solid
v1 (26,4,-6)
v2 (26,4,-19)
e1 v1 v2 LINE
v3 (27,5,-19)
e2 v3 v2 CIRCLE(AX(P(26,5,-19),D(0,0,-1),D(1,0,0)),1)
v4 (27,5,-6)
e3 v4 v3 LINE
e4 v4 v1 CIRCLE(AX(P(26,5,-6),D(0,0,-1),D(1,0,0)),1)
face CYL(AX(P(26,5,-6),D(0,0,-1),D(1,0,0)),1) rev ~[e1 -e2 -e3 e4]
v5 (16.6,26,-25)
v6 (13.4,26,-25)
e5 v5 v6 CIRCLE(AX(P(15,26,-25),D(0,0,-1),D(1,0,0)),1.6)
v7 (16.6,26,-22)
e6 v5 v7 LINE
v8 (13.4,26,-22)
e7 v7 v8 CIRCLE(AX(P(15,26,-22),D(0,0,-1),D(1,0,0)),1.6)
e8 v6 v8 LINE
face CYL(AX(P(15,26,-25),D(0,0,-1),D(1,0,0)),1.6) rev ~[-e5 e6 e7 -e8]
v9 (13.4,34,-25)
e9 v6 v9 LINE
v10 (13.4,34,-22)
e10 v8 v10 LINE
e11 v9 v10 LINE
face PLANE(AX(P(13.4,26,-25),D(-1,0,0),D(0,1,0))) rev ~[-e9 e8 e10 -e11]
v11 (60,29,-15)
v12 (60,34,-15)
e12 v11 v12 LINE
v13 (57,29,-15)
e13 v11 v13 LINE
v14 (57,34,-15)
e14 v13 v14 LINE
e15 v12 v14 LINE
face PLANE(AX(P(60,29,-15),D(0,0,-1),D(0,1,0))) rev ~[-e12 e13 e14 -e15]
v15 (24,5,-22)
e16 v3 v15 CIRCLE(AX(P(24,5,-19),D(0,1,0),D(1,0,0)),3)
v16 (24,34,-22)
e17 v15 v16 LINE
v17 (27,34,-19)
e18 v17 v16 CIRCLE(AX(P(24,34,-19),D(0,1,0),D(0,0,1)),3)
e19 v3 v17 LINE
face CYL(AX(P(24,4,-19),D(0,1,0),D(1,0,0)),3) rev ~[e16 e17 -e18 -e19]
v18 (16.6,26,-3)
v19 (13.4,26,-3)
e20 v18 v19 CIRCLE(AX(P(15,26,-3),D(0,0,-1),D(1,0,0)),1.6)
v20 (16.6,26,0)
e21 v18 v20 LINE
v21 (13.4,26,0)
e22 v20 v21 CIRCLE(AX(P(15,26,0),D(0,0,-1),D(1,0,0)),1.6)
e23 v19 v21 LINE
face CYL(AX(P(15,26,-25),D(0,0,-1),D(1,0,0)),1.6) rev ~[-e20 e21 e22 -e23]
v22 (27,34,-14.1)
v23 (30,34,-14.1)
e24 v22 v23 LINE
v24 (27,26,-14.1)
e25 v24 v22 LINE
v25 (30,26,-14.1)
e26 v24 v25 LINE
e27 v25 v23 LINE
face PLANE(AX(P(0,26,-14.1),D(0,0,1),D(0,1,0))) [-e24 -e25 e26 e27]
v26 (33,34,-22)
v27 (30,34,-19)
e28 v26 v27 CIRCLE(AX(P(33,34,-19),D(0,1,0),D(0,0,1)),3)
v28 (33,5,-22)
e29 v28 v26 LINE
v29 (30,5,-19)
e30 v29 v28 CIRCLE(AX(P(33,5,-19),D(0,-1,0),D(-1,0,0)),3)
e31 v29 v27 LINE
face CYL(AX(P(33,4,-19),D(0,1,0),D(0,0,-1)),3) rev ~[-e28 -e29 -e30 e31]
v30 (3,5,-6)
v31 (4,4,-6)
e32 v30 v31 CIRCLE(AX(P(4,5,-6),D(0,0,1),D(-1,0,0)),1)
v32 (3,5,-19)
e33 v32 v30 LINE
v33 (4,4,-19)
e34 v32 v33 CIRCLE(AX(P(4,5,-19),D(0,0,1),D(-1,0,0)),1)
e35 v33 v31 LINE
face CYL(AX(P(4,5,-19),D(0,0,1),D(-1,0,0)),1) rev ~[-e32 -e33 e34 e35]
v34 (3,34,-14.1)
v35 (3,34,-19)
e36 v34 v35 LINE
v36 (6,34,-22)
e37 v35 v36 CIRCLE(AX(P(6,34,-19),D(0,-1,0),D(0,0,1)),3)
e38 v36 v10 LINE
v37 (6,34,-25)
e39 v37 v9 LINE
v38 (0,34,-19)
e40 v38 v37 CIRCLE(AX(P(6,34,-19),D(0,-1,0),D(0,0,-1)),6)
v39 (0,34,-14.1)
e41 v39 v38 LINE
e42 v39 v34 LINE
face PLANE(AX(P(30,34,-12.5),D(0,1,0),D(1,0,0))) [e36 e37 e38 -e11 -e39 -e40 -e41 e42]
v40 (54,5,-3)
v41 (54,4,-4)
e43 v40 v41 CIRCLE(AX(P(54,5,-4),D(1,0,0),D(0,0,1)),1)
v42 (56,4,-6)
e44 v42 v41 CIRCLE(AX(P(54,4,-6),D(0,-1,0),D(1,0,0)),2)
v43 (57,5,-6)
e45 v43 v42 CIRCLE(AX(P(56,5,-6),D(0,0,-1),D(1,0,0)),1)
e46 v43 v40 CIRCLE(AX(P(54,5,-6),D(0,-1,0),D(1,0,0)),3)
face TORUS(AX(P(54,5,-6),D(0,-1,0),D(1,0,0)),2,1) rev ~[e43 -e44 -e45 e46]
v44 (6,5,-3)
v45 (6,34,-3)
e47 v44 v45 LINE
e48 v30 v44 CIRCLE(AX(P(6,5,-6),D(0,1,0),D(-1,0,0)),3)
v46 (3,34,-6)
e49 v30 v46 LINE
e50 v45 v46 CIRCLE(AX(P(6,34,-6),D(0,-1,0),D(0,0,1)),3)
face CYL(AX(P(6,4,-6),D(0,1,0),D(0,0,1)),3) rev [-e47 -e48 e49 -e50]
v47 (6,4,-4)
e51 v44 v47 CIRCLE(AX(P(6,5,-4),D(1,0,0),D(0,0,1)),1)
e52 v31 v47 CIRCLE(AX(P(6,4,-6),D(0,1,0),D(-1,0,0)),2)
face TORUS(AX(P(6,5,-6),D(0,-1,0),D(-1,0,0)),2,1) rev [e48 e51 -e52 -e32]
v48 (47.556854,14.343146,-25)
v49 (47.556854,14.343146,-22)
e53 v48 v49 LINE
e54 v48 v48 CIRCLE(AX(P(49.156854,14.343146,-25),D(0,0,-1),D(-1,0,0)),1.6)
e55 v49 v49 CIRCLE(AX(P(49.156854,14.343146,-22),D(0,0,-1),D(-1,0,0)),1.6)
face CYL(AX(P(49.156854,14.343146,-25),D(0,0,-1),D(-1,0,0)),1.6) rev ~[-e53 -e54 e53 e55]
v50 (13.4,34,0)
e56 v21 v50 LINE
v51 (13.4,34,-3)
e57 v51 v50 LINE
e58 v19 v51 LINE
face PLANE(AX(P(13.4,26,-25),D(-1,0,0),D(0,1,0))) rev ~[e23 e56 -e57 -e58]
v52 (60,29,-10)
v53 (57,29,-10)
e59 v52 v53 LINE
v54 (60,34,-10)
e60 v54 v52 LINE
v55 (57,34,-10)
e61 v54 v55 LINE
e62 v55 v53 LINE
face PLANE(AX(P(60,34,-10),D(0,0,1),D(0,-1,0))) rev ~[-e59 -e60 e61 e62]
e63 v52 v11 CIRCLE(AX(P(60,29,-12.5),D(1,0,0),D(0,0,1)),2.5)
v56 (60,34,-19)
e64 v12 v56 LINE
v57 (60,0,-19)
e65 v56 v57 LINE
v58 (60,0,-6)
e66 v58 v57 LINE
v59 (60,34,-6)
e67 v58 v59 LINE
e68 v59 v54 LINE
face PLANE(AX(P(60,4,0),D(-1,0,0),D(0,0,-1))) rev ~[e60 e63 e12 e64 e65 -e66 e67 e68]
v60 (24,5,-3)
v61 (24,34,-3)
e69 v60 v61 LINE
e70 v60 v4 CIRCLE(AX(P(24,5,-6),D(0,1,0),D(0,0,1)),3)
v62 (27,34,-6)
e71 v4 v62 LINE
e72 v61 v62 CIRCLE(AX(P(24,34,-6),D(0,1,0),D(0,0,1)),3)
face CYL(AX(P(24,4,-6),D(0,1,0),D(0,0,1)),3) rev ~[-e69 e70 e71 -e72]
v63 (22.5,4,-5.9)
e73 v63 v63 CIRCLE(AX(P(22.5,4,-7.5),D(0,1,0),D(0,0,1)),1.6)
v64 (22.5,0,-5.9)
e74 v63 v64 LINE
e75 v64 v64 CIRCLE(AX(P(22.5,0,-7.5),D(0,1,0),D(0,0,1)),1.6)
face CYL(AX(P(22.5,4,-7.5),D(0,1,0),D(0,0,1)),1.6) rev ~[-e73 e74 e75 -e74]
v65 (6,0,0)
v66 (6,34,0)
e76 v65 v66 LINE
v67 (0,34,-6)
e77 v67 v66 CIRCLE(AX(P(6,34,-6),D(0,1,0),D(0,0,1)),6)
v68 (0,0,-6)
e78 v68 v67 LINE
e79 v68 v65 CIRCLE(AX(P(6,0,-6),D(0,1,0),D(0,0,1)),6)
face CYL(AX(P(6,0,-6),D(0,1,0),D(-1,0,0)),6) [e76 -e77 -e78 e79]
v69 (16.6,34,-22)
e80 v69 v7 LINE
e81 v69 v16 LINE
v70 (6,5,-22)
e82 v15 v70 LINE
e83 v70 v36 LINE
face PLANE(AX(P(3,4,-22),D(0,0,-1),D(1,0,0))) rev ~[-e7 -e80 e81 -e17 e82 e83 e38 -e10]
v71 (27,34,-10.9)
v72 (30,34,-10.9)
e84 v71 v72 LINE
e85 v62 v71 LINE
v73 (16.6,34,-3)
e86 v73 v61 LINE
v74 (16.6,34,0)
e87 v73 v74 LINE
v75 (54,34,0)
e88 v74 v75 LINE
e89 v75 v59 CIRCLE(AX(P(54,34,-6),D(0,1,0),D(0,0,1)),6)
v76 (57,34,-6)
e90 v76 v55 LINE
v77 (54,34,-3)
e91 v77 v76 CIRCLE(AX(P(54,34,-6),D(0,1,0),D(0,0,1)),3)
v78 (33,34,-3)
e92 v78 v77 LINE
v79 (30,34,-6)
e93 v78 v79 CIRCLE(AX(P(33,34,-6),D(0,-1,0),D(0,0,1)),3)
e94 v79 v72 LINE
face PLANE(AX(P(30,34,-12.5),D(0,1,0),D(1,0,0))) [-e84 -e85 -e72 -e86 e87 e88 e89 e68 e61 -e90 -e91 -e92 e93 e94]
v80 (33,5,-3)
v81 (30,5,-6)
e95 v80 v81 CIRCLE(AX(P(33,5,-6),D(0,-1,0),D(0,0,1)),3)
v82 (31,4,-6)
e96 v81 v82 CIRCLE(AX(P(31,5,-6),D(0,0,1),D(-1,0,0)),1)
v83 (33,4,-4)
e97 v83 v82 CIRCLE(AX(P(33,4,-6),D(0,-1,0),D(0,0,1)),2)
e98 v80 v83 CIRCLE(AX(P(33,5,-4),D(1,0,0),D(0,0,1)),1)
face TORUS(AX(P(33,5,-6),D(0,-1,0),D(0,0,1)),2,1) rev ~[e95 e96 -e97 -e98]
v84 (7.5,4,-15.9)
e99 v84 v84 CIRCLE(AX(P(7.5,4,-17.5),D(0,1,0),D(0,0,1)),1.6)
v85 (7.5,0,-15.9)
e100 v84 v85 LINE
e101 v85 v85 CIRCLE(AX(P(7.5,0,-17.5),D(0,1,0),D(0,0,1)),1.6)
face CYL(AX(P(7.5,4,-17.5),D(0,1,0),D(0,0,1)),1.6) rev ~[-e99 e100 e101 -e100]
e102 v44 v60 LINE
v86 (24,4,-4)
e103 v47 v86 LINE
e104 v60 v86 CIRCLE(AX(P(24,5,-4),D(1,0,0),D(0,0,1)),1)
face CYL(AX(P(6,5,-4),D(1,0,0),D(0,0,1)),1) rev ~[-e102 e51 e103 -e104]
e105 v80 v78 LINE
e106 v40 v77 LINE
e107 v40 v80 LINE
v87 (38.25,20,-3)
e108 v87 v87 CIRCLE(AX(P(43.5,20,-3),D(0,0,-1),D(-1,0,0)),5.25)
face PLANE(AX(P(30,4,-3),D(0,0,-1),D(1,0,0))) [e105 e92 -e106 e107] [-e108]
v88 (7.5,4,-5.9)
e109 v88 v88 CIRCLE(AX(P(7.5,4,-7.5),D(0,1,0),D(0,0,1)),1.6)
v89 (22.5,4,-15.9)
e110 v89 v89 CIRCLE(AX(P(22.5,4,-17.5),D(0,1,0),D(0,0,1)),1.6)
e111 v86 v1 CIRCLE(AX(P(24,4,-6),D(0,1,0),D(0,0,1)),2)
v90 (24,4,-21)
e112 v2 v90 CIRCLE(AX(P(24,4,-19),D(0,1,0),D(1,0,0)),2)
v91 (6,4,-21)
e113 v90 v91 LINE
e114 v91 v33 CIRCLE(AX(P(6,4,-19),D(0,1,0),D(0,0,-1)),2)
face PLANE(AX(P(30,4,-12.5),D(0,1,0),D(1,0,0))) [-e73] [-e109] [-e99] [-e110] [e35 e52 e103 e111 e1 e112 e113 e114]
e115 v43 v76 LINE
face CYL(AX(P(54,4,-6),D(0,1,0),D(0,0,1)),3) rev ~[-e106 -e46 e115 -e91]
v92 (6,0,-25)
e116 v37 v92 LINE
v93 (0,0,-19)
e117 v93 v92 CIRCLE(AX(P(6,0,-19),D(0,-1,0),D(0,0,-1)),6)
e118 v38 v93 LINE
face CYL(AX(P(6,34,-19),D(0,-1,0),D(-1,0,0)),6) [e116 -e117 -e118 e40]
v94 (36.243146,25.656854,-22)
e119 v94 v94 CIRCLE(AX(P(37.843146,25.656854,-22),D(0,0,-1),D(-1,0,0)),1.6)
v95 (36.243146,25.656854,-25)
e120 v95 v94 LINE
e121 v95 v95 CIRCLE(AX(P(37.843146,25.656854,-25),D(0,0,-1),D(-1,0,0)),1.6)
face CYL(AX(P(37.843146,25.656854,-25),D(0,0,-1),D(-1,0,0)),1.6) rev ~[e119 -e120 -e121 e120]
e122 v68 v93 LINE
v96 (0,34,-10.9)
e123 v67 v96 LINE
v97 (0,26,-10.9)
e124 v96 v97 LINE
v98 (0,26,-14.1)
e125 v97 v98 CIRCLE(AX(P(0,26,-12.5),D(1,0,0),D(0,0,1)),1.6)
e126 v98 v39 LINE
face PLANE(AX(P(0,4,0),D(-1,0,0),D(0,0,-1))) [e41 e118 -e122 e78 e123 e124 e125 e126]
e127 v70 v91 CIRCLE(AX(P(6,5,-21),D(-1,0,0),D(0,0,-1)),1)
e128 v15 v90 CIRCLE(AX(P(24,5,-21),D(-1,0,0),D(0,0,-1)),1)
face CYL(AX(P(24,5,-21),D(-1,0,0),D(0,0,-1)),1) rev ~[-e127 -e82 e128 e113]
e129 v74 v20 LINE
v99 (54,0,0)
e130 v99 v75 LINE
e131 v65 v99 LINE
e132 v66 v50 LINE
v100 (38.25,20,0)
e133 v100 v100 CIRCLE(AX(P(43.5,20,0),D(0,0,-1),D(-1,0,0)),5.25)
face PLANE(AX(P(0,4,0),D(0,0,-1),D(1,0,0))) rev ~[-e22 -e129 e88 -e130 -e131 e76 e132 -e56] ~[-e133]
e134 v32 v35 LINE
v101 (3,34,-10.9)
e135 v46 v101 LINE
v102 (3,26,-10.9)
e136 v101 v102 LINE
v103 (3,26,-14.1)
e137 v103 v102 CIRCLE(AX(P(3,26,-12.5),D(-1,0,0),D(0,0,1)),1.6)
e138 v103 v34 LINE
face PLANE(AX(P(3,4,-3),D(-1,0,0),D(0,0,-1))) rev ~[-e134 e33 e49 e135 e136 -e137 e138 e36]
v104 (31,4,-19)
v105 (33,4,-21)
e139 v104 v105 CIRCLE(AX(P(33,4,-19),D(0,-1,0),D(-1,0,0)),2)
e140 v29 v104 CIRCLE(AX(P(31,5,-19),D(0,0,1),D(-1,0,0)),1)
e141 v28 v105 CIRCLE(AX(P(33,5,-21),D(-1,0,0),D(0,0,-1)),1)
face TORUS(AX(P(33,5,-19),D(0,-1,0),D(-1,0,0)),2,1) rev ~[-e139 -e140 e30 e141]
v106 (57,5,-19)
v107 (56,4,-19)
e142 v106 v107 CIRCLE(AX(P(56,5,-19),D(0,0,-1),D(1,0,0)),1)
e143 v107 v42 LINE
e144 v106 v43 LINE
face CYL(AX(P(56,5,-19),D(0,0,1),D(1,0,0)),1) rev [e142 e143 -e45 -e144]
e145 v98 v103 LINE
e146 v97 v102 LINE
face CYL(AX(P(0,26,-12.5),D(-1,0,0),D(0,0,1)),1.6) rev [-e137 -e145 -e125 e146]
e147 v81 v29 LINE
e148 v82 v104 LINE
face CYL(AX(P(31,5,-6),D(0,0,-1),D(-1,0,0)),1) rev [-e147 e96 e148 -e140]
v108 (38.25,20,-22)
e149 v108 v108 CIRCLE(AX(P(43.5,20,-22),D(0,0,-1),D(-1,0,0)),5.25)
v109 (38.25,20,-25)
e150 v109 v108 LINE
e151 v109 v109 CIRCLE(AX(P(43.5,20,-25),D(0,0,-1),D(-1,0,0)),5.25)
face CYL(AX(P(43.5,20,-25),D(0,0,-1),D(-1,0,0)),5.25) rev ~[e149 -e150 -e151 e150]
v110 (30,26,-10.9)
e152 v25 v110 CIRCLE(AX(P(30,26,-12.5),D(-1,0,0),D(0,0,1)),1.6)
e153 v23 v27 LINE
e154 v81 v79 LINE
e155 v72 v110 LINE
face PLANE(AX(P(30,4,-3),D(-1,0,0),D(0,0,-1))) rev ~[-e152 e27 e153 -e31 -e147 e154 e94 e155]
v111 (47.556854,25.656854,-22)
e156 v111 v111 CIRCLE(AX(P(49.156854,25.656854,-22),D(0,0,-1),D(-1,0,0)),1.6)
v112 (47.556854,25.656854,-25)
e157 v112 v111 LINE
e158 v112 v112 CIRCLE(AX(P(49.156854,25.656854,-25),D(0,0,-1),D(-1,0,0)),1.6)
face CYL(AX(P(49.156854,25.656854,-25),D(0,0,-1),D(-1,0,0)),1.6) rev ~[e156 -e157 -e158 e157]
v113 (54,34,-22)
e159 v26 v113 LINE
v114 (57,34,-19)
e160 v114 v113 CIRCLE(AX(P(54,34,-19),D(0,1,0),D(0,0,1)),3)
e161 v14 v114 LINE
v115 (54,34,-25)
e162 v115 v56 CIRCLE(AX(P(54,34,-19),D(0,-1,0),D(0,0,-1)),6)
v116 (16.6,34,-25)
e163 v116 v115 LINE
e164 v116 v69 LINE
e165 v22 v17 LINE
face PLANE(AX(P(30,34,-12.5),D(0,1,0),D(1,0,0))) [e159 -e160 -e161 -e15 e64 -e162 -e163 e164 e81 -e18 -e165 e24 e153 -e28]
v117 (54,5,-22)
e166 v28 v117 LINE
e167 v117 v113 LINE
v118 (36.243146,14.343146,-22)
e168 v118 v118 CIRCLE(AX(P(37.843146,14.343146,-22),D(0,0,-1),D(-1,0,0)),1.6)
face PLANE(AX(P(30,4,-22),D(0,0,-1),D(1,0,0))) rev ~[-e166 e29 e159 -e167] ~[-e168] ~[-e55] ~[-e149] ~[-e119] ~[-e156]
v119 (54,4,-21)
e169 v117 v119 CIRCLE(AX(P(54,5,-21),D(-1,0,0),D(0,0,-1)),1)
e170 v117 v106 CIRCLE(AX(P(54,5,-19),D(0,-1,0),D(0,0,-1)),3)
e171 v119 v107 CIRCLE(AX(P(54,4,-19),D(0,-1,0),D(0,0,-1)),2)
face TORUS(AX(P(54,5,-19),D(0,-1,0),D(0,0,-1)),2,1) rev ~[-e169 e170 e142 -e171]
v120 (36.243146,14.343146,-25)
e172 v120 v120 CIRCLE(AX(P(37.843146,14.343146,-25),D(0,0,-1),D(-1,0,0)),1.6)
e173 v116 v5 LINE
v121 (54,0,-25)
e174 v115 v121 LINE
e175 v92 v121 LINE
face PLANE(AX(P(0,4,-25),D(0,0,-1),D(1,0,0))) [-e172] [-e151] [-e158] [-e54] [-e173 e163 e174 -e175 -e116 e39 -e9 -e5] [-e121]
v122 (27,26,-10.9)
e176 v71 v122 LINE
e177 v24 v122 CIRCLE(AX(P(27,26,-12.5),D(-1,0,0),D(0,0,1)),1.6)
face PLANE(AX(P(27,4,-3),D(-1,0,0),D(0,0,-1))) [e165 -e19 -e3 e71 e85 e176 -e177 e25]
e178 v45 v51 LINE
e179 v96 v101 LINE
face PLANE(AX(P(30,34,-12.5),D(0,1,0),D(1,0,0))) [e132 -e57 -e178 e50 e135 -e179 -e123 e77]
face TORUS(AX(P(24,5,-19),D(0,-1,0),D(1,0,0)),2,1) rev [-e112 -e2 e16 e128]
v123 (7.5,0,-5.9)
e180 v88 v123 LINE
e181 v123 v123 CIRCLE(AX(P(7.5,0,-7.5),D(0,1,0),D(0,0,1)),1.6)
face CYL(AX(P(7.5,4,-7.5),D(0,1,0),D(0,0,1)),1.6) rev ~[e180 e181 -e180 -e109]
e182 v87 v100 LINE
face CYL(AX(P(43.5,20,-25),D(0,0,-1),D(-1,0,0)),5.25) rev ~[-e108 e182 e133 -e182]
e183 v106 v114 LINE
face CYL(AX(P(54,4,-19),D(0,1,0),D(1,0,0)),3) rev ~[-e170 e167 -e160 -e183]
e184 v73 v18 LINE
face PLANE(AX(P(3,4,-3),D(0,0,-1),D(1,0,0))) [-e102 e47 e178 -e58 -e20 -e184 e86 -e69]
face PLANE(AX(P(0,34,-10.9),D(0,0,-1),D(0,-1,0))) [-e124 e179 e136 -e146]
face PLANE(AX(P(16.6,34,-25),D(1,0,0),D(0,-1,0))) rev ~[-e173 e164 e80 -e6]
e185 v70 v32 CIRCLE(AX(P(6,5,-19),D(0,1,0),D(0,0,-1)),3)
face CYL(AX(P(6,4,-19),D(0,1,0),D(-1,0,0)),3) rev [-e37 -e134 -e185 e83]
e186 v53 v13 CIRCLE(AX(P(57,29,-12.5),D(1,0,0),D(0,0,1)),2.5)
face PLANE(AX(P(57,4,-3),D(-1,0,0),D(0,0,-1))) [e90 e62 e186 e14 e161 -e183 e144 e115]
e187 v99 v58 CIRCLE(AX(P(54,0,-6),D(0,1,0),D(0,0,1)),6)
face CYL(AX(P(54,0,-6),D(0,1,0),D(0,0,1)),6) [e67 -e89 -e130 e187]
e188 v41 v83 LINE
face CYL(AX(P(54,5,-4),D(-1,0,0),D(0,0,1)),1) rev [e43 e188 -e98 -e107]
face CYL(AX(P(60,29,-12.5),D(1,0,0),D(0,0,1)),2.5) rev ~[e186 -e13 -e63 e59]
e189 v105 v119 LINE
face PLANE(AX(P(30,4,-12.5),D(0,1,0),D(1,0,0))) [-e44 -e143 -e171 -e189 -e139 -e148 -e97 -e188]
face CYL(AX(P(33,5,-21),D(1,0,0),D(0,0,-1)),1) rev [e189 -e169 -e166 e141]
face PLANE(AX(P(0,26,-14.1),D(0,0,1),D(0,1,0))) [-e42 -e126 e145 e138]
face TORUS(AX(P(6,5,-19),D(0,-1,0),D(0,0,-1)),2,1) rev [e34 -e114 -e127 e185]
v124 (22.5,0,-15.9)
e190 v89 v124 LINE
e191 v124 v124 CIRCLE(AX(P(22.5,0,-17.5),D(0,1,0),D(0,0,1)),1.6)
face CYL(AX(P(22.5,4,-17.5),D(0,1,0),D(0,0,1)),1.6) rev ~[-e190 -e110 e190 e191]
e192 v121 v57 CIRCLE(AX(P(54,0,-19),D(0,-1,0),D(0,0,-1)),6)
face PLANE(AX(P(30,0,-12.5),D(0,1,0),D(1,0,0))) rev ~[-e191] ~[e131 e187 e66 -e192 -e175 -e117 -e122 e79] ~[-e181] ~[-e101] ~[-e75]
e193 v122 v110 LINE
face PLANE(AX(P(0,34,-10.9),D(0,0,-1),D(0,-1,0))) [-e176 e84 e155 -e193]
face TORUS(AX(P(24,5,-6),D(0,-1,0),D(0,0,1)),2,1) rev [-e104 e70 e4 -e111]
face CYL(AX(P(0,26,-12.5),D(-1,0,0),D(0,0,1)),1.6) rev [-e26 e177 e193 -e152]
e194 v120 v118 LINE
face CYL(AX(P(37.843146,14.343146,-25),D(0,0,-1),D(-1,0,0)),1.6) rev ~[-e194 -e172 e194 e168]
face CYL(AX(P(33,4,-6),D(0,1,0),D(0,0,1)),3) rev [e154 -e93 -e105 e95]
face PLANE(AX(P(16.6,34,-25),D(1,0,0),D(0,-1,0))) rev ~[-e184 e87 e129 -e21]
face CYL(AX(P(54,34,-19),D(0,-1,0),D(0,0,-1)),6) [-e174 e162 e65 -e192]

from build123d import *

# Parameters (mm, degrees)
SKETCH1_W           = 60
SKETCH1_H           = 25
BOSS_EXTRUDE1_DEPTH = 4
SKETCH3_R           = 1.6
CUT_EXTRUDE1_DEPTH  = 66.122960621
SKETCH4_W           = 60
SKETCH4_H           = 25
SKETCH4_W_2         = 24
SKETCH4_H_2         = 19
SKETCH4_W_3         = 27
BOSS_EXTRUDE2_DEPTH = 30
SKETCH5_R           = 5.25
CUT_EXTRUDE2_DEPTH  = 74.35529974
CUT_EXTRUDE3_REACH  = 75.355
SKETCH6_R           = 1.6
FILLET3_R           = 3
FILLET4_R           = 1
FILLET5_R           = 6
CUT_EXTRUDE4_DEPTH  = 74.35529974
CUT_EXTRUDE5_REACH  = 75.355
CUT_EXTRUDE6_REACH  = 75.355


with BuildPart() as part:
    # Sketch1 → Boss-Extrude1 (new body)
    with BuildSketch(Plane(origin=(0, 0, 0), x_dir=(1, 0, 0), z_dir=(0, 1, 0))):
        with Locations((30, 12.5)):
            Rectangle(SKETCH1_W, SKETCH1_H)
    extrude(amount=BOSS_EXTRUDE1_DEPTH)

    # Sketch3 → Cut-Extrude1 (cut, through all)
    with BuildSketch(Plane(origin=(0, 4, 0), x_dir=(1, 0, 0), z_dir=(0, 1, 0))):
        with Locations(Location((7.5, 17.5, 0), (0, 0, 270))):
            Circle(SKETCH3_R)
        with Locations(Location((22.5, 17.5, 0), (0, 0, 270))):
            Circle(SKETCH3_R)
        with Locations(Location((22.5, 7.5, 0), (0, 0, 270))):
            Circle(SKETCH3_R)
        with Locations(Location((7.5, 7.5, 0), (0, 0, 270))):
            Circle(SKETCH3_R)
    extrude(amount=-CUT_EXTRUDE1_DEPTH, mode=Mode.SUBTRACT)

    # Sketch4 → Boss-Extrude2 (add)
    with BuildSketch(Plane(origin=(0, 4, 0), x_dir=(1, 0, 0), z_dir=(0, 1, 0))):
        with Locations((30, 12.5)):
            Rectangle(SKETCH4_W, SKETCH4_H)
        with Locations((15, 12.5)):
            Rectangle(SKETCH4_W_2, SKETCH4_H_2, mode=Mode.SUBTRACT)
        with Locations((43.5, 12.5)):
            Rectangle(SKETCH4_W_3, SKETCH4_H_2, mode=Mode.SUBTRACT)
    extrude(amount=BOSS_EXTRUDE2_DEPTH)

    # Sketch5 → Cut-Extrude2 (cut, through all)
    with BuildSketch(Plane(origin=(0, 0, -25), x_dir=(-1, 0, 0), z_dir=(0, 0, -1))):
        with Locations((-43.5, 20)):
            Circle(SKETCH5_R)
    extrude(amount=-CUT_EXTRUDE2_DEPTH, mode=Mode.SUBTRACT)

    # Sketch6 → Cut-Extrude3 (cut, up to next)
    with BuildSketch(Plane(origin=(0, 0, -25), x_dir=(-1, 0, 0), z_dir=(0, 0, -1)), mode=Mode.PRIVATE) as cut_extrude3_sk1:
        with Locations((-37.843145751, 14.343145751)):
            Circle(SKETCH6_R)
    cut_extrude3_tool1 = extrude(cut_extrude3_sk1.sketch, amount=-CUT_EXTRUDE3_REACH, mode=Mode.PRIVATE) & part.part
    # Sketch6 → Cut-Extrude3 (cut, up to next)
    with BuildSketch(Plane(origin=(0, 0, -25), x_dir=(-1, 0, 0), z_dir=(0, 0, -1)), mode=Mode.PRIVATE) as cut_extrude3_sk2:
        with Locations((-49.156854249, 14.343145751)):
            Circle(SKETCH6_R)
    cut_extrude3_tool2 = extrude(cut_extrude3_sk2.sketch, amount=-CUT_EXTRUDE3_REACH, mode=Mode.PRIVATE) & part.part
    # Sketch6 → Cut-Extrude3 (cut, up to next)
    with BuildSketch(Plane(origin=(0, 0, -25), x_dir=(-1, 0, 0), z_dir=(0, 0, -1)), mode=Mode.PRIVATE) as cut_extrude3_sk3:
        with Locations((-49.156854249, 25.656854249)):
            Circle(SKETCH6_R)
    cut_extrude3_tool3 = extrude(cut_extrude3_sk3.sketch, amount=-CUT_EXTRUDE3_REACH, mode=Mode.PRIVATE) & part.part
    # Sketch6 → Cut-Extrude3 (cut, up to next)
    with BuildSketch(Plane(origin=(0, 0, -25), x_dir=(-1, 0, 0), z_dir=(0, 0, -1)), mode=Mode.PRIVATE) as cut_extrude3_sk4:
        with Locations((-37.843145751, 25.656854249)):
            Circle(SKETCH6_R)
    cut_extrude3_tool4 = extrude(cut_extrude3_sk4.sketch, amount=-CUT_EXTRUDE3_REACH, mode=Mode.PRIVATE) & part.part
    add(cut_extrude3_tool1.solids().sort_by_distance((37.843146, 14.343146, -25))[0], mode=Mode.SUBTRACT)
    add(cut_extrude3_tool2.solids().sort_by_distance((49.156854, 14.343146, -25))[0], mode=Mode.SUBTRACT)
    add(cut_extrude3_tool3.solids().sort_by_distance((49.156854, 25.656854, -25))[0], mode=Mode.SUBTRACT)
    add(cut_extrude3_tool4.solids().sort_by_distance((37.843146, 25.656854, -25))[0], mode=Mode.SUBTRACT)

    # Fillet3
    fillet3_edges = [part.edges().sort_by_distance(p)[0] for p in [
        (3, 19, -3),
        (27, 19, -3),
        (27, 19, -22),
        (3, 19, -22),
        (57, 19, -3),
        (57, 19, -22),
        (30, 19, -22),
        (30, 19, -3),
    ]]
    fillet(fillet3_edges, radius=FILLET3_R)

    # Fillet4
    fillet4_edges = [part.edges().sort_by_distance(p)[0] for p in [
        (15, 4, -3),
        (15, 4, -22),
        (3, 4, -12.5),
        (27, 4, -12.5),
        (26.121320344, 4, -21.121320344),
        (3.878679656, 4, -21.121320344),
        (3.878679656, 4, -3.878679656),
        (26.121320344, 4, -3.878679656),
        (30, 4, -12.5),
        (43.5, 4, -3),
        (57, 4, -12.5),
        (43.5, 4, -22),
        (30.878679656, 4, -21.121320344),
        (56.121320344, 4, -21.121320344),
        (56.121320344, 4, -3.878679656),
        (30.878679656, 4, -3.878679656),
    ]]
    fillet(fillet4_edges, radius=FILLET4_R)

    # Fillet5
    fillet5_edges = [part.edges().sort_by_distance(p)[0] for p in [
        (0, 17, -25),
        (60, 17, -25),
        (60, 17, 0),
        (0, 17, 0),
    ]]
    fillet(fillet5_edges, radius=FILLET5_R)

    # Sketch7 → Cut-Extrude4 (cut, through all)
    with BuildSketch(Plane(origin=(0, 0, -25), x_dir=(-1, 0, 0), z_dir=(0, 0, -1))):
        with BuildLine():
            Line((-13.4, 26), (-13.4, 34))
            Line((-13.4, 34), (-16.6, 34))
            Line((-16.6, 34), (-16.6, 26))
            ThreePointArc((-16.6, 26), (-15, 24.4), (-13.4, 26))
        make_face()
    extrude(amount=-CUT_EXTRUDE4_DEPTH, mode=Mode.SUBTRACT)

    # Cut-Extrude5: up to this face of the body (flat: up to its plane)
    cut_extrude5_end = Plane(part.part.faces().sort_by_distance((30, 19.5, -12.5))[0])
    # Sketch8 → Cut-Extrude5 (cut, up to the picked face)
    with BuildSketch(Plane.ZY, mode=Mode.PRIVATE) as cut_extrude5_sk1:
        with BuildLine():
            Line((-14.1, 26), (-14.1, 34))
            Line((-14.1, 34), (-10.9, 34))
            Line((-10.9, 34), (-10.9, 26))
            ThreePointArc((-10.9, 26), (-12.5, 24.4), (-14.1, 26))
        make_face()
    cut_extrude5_tool1 = split(extrude(cut_extrude5_sk1.sketch, amount=-CUT_EXTRUDE5_REACH, mode=Mode.PRIVATE), bisect_by=cut_extrude5_end, keep=Keep.BOTH, mode=Mode.PRIVATE)
    add(cut_extrude5_tool1.solids().sort_by(Axis((0, 29.364793, -12.5), (1, 0, 0)))[0], mode=Mode.SUBTRACT)

    # Sketch9 → Cut-Extrude6 (cut, up to next)
    with BuildSketch(Plane(origin=(60, 0, 0), x_dir=(0, 0, -1), z_dir=(1, 0, 0)), mode=Mode.PRIVATE) as cut_extrude6_sk1:
        with BuildLine():
            Line((15, 29), (15, 34))
            Line((15, 34), (10, 34))
            Line((10, 34), (10, 29))
            ThreePointArc((10, 29), (12.5, 26.5), (15, 29))
        make_face()
    cut_extrude6_tool1 = extrude(cut_extrude6_sk1.sketch, amount=-CUT_EXTRUDE6_REACH, mode=Mode.PRIVATE) & part.part
    add(cut_extrude6_tool1.solids().sort_by_distance((60, 30.495896, -12.5))[0], mode=Mode.SUBTRACT)


solid = part.part
